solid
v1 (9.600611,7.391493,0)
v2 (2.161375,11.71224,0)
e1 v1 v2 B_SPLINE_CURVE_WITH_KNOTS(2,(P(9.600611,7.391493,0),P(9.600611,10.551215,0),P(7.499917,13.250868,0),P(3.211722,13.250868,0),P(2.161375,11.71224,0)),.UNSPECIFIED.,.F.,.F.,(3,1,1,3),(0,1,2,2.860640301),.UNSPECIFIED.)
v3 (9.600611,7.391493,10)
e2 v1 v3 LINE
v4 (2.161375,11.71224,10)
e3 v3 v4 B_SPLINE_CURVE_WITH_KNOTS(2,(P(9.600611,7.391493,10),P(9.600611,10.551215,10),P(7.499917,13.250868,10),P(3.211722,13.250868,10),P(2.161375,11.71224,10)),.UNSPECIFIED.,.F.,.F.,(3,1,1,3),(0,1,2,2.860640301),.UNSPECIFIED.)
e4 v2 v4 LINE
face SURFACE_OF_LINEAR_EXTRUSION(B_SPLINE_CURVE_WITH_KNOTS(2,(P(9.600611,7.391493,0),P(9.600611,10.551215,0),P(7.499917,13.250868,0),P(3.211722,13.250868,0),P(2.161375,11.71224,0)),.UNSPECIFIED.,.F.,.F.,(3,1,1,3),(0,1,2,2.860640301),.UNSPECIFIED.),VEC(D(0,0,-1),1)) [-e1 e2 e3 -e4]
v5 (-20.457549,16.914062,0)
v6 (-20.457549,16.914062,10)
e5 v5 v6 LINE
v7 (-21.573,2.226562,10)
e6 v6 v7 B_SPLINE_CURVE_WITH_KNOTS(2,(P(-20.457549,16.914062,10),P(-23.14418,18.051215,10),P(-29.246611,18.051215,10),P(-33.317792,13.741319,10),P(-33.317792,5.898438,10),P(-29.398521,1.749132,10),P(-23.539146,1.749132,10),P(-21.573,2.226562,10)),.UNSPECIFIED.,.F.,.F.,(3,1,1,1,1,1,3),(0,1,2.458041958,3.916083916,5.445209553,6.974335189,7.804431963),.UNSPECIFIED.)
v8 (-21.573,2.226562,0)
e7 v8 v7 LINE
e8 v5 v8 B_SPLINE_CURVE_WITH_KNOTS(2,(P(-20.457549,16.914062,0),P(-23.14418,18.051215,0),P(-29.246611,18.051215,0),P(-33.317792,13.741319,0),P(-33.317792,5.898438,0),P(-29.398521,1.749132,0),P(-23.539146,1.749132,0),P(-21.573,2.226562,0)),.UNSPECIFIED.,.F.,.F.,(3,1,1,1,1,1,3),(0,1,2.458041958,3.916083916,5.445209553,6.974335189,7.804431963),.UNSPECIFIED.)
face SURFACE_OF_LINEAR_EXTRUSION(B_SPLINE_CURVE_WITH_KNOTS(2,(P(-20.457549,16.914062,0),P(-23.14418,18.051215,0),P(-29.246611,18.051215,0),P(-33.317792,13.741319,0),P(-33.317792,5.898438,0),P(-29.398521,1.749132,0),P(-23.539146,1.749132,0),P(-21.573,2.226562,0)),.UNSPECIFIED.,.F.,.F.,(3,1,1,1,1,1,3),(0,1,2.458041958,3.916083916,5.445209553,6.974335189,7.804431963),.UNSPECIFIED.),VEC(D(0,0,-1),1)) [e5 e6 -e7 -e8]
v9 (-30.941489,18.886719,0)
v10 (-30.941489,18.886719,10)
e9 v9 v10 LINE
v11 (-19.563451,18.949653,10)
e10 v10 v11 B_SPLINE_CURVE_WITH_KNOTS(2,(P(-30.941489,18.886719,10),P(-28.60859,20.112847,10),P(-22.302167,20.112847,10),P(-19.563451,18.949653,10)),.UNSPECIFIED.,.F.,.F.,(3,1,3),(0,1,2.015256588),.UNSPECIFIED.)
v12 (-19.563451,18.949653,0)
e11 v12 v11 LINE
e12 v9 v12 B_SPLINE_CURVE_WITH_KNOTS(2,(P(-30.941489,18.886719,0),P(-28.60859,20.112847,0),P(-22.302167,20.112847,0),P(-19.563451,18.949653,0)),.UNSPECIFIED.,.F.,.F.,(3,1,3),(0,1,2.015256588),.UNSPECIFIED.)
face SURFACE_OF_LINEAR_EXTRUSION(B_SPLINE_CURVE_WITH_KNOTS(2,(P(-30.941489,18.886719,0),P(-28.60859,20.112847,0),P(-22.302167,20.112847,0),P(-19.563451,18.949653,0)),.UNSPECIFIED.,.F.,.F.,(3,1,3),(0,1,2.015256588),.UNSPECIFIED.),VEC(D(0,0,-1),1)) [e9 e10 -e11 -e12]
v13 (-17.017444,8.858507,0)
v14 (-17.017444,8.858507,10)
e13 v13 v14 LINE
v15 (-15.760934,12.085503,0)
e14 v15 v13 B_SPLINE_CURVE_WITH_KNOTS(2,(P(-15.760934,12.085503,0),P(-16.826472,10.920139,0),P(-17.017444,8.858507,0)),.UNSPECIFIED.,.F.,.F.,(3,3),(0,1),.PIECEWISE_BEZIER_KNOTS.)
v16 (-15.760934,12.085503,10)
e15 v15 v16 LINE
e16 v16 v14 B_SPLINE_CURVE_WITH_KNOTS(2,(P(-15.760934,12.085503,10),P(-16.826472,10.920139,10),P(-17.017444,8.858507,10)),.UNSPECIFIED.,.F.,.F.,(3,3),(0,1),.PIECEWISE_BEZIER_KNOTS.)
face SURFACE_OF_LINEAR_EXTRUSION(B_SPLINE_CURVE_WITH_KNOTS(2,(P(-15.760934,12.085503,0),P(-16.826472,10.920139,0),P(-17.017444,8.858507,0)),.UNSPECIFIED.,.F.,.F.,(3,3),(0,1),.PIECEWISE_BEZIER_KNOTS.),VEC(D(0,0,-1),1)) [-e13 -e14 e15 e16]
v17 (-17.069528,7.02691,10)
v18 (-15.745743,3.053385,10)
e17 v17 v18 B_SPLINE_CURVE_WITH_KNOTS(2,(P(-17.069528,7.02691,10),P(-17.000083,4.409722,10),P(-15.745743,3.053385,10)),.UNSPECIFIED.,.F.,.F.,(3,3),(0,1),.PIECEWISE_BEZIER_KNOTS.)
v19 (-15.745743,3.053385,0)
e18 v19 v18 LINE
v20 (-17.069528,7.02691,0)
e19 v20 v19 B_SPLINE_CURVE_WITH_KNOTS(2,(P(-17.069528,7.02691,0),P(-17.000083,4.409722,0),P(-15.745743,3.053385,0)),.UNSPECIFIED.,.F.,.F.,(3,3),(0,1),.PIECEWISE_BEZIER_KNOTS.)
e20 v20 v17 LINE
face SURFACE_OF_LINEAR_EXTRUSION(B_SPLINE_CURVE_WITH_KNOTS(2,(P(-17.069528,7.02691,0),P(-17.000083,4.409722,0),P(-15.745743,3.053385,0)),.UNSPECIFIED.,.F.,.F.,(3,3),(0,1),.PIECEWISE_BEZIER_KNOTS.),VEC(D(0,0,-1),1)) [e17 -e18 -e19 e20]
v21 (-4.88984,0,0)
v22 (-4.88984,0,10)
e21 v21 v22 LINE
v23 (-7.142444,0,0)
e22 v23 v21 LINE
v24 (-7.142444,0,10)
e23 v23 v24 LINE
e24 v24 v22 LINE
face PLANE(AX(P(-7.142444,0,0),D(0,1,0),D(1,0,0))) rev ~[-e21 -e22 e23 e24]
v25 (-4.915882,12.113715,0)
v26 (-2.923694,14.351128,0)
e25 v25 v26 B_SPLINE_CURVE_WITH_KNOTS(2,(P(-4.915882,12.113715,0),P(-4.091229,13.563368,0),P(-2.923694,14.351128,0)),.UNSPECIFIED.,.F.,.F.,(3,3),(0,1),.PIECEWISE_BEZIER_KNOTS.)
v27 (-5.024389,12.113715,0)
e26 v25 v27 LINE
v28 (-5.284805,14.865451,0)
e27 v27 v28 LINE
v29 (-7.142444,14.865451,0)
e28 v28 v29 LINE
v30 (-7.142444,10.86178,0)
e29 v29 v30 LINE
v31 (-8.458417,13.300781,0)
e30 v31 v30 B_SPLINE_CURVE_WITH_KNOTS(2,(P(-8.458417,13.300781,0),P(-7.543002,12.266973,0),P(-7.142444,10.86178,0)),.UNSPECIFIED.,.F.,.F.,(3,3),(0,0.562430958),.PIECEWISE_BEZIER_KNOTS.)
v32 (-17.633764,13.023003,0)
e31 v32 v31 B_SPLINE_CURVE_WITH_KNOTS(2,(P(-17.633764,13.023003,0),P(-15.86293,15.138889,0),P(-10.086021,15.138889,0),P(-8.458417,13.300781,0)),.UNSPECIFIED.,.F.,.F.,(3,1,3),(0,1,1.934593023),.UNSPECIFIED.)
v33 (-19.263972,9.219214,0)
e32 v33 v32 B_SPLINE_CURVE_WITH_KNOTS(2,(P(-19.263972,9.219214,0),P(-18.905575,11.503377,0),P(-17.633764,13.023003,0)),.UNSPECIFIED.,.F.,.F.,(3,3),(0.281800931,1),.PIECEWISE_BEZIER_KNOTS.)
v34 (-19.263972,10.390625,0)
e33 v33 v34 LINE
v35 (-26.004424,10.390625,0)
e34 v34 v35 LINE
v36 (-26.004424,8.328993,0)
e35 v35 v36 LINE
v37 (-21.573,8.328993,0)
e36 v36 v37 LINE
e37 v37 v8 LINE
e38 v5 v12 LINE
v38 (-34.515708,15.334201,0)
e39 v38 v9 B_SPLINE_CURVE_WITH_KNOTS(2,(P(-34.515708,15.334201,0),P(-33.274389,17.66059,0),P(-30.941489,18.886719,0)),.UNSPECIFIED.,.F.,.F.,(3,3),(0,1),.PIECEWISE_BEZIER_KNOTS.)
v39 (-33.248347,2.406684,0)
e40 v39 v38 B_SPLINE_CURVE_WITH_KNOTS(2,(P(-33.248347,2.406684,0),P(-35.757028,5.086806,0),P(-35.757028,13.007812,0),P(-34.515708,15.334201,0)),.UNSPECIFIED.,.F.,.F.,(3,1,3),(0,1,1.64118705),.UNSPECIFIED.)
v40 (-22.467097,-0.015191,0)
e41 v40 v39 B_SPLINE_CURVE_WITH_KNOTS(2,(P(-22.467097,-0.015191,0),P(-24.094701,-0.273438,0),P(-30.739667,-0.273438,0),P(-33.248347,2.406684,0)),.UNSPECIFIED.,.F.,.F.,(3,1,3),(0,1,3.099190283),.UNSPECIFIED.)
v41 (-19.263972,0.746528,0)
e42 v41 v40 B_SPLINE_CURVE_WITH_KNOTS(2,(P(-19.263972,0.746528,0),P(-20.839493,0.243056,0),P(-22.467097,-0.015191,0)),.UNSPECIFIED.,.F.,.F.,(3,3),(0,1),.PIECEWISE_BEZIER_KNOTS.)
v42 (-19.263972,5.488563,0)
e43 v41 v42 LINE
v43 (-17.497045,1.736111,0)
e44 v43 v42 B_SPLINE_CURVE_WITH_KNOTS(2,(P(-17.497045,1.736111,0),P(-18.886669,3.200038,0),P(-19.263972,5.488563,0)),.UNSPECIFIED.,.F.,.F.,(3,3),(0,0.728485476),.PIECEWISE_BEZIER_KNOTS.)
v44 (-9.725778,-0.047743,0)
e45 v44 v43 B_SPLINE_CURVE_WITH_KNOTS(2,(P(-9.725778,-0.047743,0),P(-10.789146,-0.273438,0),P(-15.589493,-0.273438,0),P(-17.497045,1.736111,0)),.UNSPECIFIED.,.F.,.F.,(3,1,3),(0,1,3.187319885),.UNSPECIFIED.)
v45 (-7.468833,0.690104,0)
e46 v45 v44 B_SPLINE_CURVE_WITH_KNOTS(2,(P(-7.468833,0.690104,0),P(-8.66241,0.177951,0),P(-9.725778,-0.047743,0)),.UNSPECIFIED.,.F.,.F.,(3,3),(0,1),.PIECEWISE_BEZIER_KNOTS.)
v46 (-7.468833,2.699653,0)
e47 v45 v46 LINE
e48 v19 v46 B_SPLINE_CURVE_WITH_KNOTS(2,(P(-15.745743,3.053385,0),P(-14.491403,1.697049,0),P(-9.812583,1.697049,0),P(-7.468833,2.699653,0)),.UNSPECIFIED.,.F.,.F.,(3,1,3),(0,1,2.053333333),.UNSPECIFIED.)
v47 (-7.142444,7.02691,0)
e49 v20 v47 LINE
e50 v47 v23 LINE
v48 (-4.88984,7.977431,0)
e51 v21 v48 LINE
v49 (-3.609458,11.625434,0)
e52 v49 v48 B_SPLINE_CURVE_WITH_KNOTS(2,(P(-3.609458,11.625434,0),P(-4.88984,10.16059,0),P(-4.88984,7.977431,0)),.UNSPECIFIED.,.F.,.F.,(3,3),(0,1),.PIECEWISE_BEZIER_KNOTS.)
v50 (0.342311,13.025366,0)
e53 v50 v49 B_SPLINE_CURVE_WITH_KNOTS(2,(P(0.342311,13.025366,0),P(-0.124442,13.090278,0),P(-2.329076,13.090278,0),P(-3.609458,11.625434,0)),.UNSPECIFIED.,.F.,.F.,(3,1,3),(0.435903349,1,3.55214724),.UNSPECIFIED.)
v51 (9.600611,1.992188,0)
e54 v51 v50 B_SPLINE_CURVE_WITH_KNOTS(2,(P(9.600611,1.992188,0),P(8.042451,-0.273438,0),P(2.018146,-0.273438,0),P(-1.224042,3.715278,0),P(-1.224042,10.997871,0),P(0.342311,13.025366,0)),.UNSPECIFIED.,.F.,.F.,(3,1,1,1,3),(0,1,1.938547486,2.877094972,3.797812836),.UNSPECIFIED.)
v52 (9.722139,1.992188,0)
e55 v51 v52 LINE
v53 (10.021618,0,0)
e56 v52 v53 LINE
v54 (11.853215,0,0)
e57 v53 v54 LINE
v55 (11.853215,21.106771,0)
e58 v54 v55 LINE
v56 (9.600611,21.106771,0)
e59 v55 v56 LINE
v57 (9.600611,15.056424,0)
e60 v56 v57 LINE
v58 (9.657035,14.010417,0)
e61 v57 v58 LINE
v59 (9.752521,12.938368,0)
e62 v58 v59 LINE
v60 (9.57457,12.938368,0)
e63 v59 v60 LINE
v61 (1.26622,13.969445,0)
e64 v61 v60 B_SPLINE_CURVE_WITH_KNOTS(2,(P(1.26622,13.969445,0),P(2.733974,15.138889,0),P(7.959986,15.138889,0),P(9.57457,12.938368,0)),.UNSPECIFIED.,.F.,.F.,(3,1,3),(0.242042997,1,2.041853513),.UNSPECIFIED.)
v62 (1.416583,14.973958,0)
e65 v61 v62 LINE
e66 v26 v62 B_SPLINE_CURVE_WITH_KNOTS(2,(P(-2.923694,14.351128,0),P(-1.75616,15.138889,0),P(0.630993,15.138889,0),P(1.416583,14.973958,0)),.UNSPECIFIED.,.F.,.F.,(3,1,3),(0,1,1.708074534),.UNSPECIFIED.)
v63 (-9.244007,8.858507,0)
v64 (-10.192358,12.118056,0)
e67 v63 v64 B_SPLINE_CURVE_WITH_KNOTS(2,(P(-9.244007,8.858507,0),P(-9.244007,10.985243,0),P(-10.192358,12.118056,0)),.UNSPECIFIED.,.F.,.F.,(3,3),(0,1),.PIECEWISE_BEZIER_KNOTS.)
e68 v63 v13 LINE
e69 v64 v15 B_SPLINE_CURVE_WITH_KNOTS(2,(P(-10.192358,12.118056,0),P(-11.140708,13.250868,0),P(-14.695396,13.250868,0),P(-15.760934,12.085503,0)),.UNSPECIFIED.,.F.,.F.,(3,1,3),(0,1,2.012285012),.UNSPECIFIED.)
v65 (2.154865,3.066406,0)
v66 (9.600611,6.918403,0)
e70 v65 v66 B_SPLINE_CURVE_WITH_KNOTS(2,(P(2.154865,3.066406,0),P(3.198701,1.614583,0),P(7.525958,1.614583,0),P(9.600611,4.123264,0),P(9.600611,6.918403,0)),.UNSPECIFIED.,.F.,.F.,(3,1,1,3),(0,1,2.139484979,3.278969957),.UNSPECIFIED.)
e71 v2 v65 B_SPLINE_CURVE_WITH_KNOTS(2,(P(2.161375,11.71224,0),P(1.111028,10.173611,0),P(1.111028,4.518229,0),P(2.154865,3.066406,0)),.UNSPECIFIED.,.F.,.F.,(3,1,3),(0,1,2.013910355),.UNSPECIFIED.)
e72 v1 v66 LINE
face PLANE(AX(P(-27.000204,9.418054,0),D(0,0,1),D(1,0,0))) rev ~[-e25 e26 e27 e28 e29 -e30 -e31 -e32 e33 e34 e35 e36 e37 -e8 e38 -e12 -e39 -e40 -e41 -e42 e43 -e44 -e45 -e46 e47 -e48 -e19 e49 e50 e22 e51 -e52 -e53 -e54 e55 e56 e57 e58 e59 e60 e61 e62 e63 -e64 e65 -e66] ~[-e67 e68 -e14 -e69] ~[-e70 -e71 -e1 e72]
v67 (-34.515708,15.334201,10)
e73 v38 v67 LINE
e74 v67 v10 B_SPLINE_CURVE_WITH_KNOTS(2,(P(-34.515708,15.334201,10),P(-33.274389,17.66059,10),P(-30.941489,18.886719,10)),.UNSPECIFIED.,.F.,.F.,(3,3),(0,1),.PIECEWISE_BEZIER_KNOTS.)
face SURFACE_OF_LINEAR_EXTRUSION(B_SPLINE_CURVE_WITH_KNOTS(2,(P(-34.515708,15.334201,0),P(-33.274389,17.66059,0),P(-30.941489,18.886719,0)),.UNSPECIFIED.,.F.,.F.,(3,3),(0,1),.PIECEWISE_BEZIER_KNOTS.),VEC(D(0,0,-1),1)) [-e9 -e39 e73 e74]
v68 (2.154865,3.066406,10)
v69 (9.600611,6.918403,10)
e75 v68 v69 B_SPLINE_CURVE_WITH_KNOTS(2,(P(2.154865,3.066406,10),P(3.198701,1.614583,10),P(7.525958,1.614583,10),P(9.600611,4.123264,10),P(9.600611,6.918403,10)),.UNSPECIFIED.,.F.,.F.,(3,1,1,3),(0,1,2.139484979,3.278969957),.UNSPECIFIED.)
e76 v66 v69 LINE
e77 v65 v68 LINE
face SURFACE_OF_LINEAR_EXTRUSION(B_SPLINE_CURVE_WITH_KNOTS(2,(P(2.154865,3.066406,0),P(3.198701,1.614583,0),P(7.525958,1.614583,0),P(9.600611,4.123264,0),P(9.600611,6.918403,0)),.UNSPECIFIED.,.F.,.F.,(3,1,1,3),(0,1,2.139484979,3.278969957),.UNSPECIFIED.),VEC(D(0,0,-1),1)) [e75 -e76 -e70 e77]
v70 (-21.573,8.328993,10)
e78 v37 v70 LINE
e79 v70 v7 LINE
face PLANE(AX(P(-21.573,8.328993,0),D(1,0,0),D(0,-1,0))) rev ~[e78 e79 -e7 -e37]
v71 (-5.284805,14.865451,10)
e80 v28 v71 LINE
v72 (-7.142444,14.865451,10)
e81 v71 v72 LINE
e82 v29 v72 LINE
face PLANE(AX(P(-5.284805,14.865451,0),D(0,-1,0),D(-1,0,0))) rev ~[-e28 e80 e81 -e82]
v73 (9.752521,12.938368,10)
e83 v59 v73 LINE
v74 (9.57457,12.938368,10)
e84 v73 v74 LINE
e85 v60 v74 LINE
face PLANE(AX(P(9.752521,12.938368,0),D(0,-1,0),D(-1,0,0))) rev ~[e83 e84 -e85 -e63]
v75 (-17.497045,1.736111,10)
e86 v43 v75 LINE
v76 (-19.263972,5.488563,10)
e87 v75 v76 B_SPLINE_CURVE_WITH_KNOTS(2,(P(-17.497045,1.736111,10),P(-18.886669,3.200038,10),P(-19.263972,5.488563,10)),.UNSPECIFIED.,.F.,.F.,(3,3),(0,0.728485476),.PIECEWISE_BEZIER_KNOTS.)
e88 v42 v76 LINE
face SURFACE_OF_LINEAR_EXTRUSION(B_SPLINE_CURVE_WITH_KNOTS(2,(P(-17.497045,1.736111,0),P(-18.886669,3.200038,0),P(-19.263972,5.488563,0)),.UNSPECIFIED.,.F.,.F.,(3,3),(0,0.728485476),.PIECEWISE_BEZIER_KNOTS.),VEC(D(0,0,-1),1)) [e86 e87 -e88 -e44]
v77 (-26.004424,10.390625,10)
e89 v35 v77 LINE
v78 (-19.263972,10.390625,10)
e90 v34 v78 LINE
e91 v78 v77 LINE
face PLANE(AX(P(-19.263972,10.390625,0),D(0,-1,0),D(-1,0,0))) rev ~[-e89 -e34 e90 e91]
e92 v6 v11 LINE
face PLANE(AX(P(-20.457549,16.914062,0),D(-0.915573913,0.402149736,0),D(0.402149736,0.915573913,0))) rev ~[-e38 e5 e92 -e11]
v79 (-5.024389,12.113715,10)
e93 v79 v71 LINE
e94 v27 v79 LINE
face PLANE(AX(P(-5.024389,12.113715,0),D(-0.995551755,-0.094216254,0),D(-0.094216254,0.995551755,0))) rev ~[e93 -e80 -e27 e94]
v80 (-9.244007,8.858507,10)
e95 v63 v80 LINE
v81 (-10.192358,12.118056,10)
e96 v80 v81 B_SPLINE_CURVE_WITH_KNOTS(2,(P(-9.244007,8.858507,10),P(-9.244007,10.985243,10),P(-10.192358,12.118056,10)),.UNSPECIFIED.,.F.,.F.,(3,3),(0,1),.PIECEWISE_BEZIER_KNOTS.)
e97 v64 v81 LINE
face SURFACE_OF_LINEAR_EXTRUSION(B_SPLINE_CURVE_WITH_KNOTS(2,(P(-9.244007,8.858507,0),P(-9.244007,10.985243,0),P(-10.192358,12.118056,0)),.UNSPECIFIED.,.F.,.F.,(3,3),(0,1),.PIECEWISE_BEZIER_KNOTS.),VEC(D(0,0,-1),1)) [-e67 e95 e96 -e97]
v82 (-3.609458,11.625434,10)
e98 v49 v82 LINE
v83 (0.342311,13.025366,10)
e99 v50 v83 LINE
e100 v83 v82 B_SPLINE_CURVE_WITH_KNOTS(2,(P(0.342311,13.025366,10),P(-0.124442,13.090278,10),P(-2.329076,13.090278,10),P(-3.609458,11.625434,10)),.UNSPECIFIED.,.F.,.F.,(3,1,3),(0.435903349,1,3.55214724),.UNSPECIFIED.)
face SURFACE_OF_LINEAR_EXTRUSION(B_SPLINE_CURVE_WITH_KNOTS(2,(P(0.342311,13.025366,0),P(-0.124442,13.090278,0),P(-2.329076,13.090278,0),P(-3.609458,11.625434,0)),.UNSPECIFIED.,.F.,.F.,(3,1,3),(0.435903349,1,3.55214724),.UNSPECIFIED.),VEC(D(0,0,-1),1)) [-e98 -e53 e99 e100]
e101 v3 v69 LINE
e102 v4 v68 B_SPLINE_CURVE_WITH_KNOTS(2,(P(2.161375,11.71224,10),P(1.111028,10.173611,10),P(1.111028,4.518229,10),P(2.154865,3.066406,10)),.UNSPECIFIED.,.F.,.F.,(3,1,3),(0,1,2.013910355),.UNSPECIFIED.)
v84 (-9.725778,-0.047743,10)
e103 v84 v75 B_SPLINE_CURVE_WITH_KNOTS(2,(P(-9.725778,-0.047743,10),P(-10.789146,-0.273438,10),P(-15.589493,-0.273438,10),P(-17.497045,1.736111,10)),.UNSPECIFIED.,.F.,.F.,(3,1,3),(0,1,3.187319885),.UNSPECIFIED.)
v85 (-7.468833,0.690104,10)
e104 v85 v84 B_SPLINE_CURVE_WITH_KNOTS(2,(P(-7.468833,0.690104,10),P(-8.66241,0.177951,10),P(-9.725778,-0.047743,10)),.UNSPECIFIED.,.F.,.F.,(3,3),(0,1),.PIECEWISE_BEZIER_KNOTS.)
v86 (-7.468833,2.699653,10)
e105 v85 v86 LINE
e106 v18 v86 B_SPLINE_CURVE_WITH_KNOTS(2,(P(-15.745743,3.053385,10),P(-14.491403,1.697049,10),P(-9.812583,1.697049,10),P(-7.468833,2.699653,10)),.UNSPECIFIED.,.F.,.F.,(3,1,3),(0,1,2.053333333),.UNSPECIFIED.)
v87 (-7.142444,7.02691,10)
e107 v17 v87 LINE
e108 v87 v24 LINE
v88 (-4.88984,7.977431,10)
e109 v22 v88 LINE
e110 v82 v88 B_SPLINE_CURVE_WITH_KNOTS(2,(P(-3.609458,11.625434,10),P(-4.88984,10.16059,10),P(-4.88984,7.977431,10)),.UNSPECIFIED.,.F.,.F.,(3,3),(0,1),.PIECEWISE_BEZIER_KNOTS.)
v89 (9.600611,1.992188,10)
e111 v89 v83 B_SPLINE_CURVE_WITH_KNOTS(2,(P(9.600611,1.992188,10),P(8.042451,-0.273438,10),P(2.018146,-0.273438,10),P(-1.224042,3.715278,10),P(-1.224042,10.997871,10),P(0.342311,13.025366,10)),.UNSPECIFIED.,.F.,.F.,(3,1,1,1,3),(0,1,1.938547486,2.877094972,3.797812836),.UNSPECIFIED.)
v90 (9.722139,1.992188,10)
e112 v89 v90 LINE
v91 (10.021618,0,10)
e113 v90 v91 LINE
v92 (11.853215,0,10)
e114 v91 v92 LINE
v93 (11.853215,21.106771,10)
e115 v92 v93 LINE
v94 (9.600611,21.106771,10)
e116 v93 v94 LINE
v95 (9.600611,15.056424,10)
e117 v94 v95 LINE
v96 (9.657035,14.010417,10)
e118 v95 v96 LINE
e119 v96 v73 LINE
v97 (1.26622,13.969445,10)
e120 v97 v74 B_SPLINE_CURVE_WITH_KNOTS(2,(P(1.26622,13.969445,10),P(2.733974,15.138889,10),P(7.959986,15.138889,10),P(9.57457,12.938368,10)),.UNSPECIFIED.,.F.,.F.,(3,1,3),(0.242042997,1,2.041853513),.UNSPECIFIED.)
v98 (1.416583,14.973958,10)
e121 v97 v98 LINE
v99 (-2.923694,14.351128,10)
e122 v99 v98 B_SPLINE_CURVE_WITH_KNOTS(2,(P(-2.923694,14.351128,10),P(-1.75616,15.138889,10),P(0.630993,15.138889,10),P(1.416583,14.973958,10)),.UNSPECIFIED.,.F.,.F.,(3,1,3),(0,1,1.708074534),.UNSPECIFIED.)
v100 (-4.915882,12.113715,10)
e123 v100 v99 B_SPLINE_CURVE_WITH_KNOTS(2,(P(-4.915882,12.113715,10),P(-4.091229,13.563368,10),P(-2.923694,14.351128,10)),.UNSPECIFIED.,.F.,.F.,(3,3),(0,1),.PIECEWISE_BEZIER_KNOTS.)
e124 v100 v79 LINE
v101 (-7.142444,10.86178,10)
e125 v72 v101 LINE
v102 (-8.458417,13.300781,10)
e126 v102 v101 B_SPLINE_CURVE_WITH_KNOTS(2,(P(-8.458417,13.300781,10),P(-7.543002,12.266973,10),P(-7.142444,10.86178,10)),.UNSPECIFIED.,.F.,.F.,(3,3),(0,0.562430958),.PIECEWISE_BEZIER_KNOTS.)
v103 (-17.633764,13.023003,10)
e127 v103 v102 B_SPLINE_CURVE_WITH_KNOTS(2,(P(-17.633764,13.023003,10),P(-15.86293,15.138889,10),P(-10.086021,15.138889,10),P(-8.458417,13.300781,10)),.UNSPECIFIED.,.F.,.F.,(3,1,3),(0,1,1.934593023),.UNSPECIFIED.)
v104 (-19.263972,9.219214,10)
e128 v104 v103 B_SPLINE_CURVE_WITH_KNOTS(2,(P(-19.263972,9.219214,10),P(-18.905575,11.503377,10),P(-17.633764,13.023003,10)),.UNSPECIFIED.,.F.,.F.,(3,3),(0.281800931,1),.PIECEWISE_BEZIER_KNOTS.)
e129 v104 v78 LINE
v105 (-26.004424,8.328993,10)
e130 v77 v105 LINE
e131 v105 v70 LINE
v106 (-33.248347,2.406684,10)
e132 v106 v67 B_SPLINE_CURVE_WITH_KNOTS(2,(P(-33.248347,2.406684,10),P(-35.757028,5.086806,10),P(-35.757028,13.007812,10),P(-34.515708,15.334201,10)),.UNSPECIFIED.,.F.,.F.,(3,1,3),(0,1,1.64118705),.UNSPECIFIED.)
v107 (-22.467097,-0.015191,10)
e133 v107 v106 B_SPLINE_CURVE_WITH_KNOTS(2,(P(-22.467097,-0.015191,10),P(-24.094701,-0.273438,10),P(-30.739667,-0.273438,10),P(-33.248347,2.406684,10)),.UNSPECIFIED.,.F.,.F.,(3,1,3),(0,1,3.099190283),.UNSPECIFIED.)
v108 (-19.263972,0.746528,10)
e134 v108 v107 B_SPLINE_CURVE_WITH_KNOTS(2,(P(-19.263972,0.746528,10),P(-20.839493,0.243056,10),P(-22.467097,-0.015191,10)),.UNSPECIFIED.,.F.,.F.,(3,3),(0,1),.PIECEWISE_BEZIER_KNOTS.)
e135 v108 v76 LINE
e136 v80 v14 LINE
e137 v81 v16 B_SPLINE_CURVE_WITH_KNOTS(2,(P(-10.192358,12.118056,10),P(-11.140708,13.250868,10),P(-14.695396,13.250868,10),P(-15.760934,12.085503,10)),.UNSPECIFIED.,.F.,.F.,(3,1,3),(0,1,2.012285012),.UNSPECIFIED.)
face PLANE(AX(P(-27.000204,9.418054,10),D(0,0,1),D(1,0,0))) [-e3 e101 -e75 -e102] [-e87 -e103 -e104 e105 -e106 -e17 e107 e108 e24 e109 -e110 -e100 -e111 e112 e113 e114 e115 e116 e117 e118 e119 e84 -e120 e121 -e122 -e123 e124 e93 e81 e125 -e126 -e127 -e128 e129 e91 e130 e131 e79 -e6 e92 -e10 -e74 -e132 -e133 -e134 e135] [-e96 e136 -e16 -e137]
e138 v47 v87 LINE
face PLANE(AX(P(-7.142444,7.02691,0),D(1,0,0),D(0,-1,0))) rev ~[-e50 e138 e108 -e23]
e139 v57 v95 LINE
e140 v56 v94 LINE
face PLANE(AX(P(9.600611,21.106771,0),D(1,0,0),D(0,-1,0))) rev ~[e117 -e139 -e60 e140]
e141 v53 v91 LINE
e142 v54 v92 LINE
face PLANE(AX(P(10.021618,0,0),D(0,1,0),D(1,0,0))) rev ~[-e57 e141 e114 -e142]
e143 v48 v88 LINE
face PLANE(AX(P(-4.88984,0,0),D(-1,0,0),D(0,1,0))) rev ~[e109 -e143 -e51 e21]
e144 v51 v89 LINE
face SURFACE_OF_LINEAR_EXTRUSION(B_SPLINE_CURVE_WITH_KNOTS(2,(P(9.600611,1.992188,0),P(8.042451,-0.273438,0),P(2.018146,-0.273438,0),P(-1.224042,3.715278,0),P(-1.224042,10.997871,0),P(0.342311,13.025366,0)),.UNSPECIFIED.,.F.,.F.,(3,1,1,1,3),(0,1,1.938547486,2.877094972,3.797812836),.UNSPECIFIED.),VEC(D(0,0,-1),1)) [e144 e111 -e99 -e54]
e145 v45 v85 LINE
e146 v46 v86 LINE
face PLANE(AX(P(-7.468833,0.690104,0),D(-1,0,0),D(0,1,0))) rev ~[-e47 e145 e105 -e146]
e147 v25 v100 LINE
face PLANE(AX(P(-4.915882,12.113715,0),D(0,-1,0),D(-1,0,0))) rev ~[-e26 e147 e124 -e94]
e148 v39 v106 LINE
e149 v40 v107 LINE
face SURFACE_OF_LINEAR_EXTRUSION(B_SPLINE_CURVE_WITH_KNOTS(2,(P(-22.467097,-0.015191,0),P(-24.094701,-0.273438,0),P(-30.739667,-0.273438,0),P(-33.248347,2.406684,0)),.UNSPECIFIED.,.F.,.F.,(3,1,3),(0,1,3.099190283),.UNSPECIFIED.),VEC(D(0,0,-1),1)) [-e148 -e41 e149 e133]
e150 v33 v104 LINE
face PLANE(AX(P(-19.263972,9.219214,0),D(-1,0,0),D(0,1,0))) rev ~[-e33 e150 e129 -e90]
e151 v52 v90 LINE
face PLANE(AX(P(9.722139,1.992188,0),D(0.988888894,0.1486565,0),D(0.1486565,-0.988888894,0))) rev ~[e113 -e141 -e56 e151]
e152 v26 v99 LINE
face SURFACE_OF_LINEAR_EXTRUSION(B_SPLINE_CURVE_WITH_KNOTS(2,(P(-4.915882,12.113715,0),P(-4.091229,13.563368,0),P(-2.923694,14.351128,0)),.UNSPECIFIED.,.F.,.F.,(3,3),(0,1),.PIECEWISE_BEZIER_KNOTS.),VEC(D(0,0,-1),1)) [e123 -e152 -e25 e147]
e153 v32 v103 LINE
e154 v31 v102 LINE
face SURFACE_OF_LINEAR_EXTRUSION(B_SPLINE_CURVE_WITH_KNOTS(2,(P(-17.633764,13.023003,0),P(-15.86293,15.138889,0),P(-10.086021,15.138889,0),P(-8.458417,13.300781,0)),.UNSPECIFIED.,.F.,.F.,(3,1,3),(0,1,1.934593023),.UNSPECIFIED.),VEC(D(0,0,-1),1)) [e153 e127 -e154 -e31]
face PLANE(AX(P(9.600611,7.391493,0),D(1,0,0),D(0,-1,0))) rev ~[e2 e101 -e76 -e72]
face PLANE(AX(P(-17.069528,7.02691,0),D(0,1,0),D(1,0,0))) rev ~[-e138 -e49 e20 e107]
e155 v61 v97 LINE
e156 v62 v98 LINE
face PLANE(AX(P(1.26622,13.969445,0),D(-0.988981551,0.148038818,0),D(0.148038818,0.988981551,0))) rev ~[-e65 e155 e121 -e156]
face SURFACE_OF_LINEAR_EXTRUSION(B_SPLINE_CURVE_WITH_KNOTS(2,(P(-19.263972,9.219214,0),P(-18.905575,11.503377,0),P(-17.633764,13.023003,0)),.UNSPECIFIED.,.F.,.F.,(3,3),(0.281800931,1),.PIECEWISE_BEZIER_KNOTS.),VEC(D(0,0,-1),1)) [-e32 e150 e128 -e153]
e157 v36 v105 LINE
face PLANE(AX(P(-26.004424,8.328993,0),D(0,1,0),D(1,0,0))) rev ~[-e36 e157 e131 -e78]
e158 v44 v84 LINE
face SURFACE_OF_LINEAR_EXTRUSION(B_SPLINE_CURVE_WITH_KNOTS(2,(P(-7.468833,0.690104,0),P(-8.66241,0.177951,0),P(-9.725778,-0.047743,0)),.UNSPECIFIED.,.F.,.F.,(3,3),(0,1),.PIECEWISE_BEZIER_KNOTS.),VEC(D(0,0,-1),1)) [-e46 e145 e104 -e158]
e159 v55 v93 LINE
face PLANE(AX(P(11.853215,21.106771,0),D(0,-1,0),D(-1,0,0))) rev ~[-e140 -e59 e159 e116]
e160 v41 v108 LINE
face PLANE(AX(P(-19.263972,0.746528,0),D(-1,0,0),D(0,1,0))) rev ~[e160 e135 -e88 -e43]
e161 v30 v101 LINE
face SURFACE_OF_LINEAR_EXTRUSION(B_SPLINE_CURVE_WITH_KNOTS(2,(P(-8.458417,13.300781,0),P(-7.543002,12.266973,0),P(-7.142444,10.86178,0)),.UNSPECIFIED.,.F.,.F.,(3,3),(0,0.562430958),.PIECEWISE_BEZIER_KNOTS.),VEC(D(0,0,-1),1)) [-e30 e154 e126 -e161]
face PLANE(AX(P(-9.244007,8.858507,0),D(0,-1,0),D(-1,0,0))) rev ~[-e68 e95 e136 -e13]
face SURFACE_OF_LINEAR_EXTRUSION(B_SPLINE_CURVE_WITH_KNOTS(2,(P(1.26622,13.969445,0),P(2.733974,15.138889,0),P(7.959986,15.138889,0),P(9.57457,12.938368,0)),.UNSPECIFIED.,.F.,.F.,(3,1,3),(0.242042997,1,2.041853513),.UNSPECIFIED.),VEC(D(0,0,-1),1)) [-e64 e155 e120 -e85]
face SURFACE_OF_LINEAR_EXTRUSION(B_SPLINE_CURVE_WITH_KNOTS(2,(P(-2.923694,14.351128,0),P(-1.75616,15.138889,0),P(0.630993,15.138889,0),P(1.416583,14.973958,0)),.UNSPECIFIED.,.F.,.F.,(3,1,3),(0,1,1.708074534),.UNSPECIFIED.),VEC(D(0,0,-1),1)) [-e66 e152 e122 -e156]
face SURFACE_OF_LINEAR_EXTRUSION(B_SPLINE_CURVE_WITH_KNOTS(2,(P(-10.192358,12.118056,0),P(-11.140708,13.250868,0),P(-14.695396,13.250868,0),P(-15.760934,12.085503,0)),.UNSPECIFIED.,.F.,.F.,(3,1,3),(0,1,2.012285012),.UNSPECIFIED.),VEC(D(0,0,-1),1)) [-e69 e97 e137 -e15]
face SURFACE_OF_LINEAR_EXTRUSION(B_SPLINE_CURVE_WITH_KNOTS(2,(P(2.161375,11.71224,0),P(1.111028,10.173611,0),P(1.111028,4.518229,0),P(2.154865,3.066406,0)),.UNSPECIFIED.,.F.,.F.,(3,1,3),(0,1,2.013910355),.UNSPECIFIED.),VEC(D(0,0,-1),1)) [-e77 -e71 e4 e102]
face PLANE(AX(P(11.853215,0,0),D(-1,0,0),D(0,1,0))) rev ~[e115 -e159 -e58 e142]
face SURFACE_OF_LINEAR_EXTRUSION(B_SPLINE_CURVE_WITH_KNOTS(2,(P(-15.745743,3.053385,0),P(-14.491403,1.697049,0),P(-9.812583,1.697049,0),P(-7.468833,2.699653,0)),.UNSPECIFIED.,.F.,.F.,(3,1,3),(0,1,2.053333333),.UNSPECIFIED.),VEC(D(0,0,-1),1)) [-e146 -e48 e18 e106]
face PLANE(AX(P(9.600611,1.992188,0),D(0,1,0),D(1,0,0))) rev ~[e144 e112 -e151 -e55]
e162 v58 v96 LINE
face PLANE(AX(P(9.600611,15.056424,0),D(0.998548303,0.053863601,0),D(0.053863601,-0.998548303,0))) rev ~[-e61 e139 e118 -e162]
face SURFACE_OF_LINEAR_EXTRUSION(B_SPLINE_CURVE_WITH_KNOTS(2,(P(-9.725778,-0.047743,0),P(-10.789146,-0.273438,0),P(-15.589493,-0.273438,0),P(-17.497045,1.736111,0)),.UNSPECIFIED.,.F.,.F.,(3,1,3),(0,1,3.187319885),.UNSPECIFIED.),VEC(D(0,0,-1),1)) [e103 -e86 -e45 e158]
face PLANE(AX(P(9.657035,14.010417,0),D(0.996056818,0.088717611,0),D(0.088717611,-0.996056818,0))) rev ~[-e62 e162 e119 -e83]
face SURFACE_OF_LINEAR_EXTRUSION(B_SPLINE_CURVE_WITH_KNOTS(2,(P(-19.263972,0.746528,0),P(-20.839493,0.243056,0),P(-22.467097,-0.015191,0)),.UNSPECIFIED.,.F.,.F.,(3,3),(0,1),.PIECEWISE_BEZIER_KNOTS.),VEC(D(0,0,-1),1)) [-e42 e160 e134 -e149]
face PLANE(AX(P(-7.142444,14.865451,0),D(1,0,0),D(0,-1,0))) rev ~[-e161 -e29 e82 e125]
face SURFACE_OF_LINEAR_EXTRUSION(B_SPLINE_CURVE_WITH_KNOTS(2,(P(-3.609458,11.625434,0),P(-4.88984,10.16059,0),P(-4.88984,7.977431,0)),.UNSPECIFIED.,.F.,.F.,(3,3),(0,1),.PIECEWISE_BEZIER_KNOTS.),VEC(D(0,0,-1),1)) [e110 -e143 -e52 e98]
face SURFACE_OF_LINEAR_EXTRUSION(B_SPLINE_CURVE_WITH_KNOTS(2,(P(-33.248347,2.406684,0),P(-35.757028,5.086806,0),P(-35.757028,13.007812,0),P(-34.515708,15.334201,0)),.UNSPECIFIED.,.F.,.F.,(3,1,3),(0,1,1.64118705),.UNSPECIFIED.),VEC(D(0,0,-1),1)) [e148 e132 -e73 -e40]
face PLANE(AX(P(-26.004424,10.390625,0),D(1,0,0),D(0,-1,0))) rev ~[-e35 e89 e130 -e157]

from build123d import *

# Parameters (mm, degrees)
F1_DEPTH = 10


with BuildPart() as f1:
    # F0 (on Top) → F1 (new body)
    with BuildSketch(Plane.XY):
        with BuildLine():
            Line((-19.2639721345, 10.390625), (-26.0044235234, 10.390625))
            Line((-26.0044235234, 10.390625), (-26.0044235234, 8.3289930556))
            Line((-26.0044235234, 8.3289930556), (-21.5729999123, 8.3289930556))
            Line((-21.5729999123, 8.3289930556), (-21.5729999123, 2.2265625))
            add(Edge.make_bspline(
                [(-25.6007776901, 1.7491319444), (-23.5391457456, 1.7491319444), (-21.5729999123, 2.2265625)],
                knots=[0, 0, 0, 1, 1, 1], degree=2))
            add(Edge.make_bspline(
                [(-31.3581561623, 3.8237847222), (-29.3985207456, 1.7491319444), (-25.6007776901, 1.7491319444)],
                knots=[0, 0, 0, 1, 1, 1], degree=2))
            add(Edge.make_bspline(
                [(-33.317791579, 9.9131944444), (-33.317791579, 5.8984375), (-31.3581561623, 3.8237847222)],
                knots=[0, 0, 0, 1, 1, 1], degree=2))
            add(Edge.make_bspline(
                [(-31.2822013012, 15.8962673611), (-33.317791579, 13.7413194444), (-33.317791579, 9.9131944444)],
                knots=[0, 0, 0, 1, 1, 1], degree=2))
            add(Edge.make_bspline(
                [(-25.6268193567, 18.0512152778), (-29.2466110234, 18.0512152778), (-31.2822013012, 15.8962673611)],
                knots=[0, 0, 0, 1, 1, 1], degree=2))
            add(Edge.make_bspline(
                [(-20.4575485234, 16.9140625), (-23.1441804679, 18.0512152778), (-25.6268193567, 18.0512152778)],
                knots=[0, 0, 0, 1, 1, 1], degree=2))
            Line((-20.4575485234, 16.9140625), (-19.5634513012, 18.9496527778))
            add(Edge.make_bspline(
                [(-25.4792499123, 20.1128472222), (-22.302166579, 20.1128472222), (-19.5634513012, 18.9496527778)],
                knots=[0, 0, 0, 1, 1, 1], degree=2))
            add(Edge.make_bspline(
                [(-30.9414894956, 18.88671875), (-28.6085901901, 20.1128472222), (-25.4792499123, 20.1128472222)],
                knots=[0, 0, 0, 1, 1, 1], degree=2))
            add(Edge.make_bspline(
                [(-34.5157082456, 15.3342013889), (-33.2743888012, 17.6605902778), (-30.9414894956, 18.88671875)],
                knots=[0, 0, 0, 1, 1, 1], degree=2))
            add(Edge.make_bspline(
                [(-35.7570276901, 9.9131944444), (-35.7570276901, 13.0078125), (-34.5157082456, 15.3342013889)],
                knots=[0, 0, 0, 1, 1, 1], degree=2))
            add(Edge.make_bspline(
                [(-33.2483471345, 2.4066840278), (-35.7570276901, 5.0868055556), (-35.7570276901, 9.9131944444)],
                knots=[0, 0, 0, 1, 1, 1], degree=2))
            add(Edge.make_bspline(
                [(-26.2387985234, -0.2734375), (-30.739666579, -0.2734375), (-33.2483471345, 2.4066840278)],
                knots=[0, 0, 0, 1, 1, 1], degree=2))
            add(Edge.make_bspline(
                [(-22.4670971345, -0.0151909722), (-24.0947013012, -0.2734375), (-26.2387985234, -0.2734375)],
                knots=[0, 0, 0, 1, 1, 1], degree=2))
            add(Edge.make_bspline(
                [(-19.2639721345, 0.7465277778), (-20.8394929679, 0.2430555556), (-22.4670971345, -0.0151909722)],
                knots=[0, 0, 0, 1, 1, 1], degree=2))
            Line((-19.2639721345, 0.7465277778), (-19.2639721345, 5.4885631994))
            add(Edge.make_bspline(
                [(-19.2639721345, 5.4885631994), (-19.4045971345, 6.3415215978), (-19.4045971345, 7.3090277778)],
                knots=[0.7284854764, 0.7284854764, 0.7284854764, 1, 1, 1], degree=2))
            add(Edge.make_bspline(
                [(-19.4045971345, 7.3090277778), (-19.4045971345, 8.3229729678), (-19.2639721345, 9.2192136542)],
                knots=[0, 0, 0, 0.281800931, 0.281800931, 0.281800931], degree=2))
            Line((-19.2639721345, 9.2192136542), (-19.2639721345, 10.390625))
        make_face()
        with BuildLine():
            add(Edge.make_bspline(
                [(-19.2639721345, 9.2192136542), (-18.9055746526, 11.5033765358), (-17.6337638012, 13.0230034722)],
                knots=[0.281800931, 0.281800931, 0.281800931, 1, 1, 1], degree=2))
            Line((-19.2639721345, 9.2192136542), (-19.2639721345, 5.4885631994))
            add(Edge.make_bspline(
                [(-17.4970450512, 1.7361111111), (-18.8866690394, 3.2000380885), (-19.2639721345, 5.4885631994)],
                knots=[0, 0, 0, 0.7284854764, 0.7284854764, 0.7284854764], degree=2))
            add(Edge.make_bspline(
                [(-12.2952221345, -0.2734375), (-15.5894929679, -0.2734375), (-17.4970450512, 1.7361111111)],
                knots=[0, 0, 0, 1, 1, 1], degree=2))
            add(Edge.make_bspline(
                [(-9.7257776901, -0.0477430556), (-10.7891457456, -0.2734375), (-12.2952221345, -0.2734375)],
                knots=[0, 0, 0, 1, 1, 1], degree=2))
            add(Edge.make_bspline(
                [(-7.4688332456, 0.6901041667), (-8.6624096345, 0.1779513889), (-9.7257776901, -0.0477430556)],
                knots=[0, 0, 0, 1, 1, 1], degree=2))
            Line((-7.4688332456, 0.6901041667), (-7.4688332456, 2.6996527778))
            add(Edge.make_bspline(
                [(-12.2127568567, 1.6970486111), (-9.8125832456, 1.6970486111), (-7.4688332456, 2.6996527778)],
                knots=[0, 0, 0, 1, 1, 1], degree=2))
            add(Edge.make_bspline(
                [(-15.7457429679, 3.0533854167), (-14.4914026901, 1.6970486111), (-12.2127568567, 1.6970486111)],
                knots=[0, 0, 0, 1, 1, 1], degree=2))
            add(Edge.make_bspline(
                [(-17.0695276901, 7.0269097222), (-17.0000832456, 4.4097222222), (-15.7457429679, 3.0533854167)],
                knots=[0, 0, 0, 1, 1, 1], degree=2))
            Line((-17.0695276901, 7.0269097222), (-7.1424443567, 7.0269097222))
            Line((-7.1424443567, 7.0269097222), (-7.1424443567, 10.8617799358))
            add(Edge.make_bspline(
                [(-8.458416579, 13.30078125), (-7.5430016085, 12.2669726101), (-7.1424443567, 10.8617799358)],
                knots=[0, 0, 0, 0.5624309578, 0.5624309578, 0.5624309578], degree=2))
            add(Edge.make_bspline(
                [(-12.8768193567, 15.1388888889), (-10.0860207456, 15.1388888889), (-8.458416579, 13.30078125)],
                knots=[0, 0, 0, 1, 1, 1], degree=2))
            add(Edge.make_bspline(
                [(-17.6337638012, 13.0230034722), (-15.8629304679, 15.1388888889), (-12.8768193567, 15.1388888889)],
                knots=[0, 0, 0, 1, 1, 1], degree=2))
        make_face()
        with BuildLine():
            add(Edge.make_bspline(
                [(-12.9072013012, 13.2508680556), (-14.6953957456, 13.2508680556), (-15.7609339401, 12.0855034722)],
                knots=[0, 0, 0, 1, 1, 1], degree=2))
            add(Edge.make_bspline(
                [(-10.1923575512, 12.1180555556), (-11.1407082456, 13.2508680556), (-12.9072013012, 13.2508680556)],
                knots=[0, 0, 0, 1, 1, 1], degree=2))
            add(Edge.make_bspline(
                [(-9.2440068567, 8.8585069444), (-9.2440068567, 10.9852430556), (-10.1923575512, 12.1180555556)],
                knots=[0, 0, 0, 1, 1, 1], degree=2))
            Line((-9.2440068567, 8.8585069444), (-17.0174443567, 8.8585069444))
            add(Edge.make_bspline(
                [(-15.7609339401, 12.0855034722), (-16.8264721345, 10.9201388889), (-17.0174443567, 8.8585069444)],
                knots=[0, 0, 0, 1, 1, 1], degree=2))
        make_face(mode=Mode.SUBTRACT)
        with BuildLine():
            Line((-19.2639721345, 5.4885631994), (-19.2639721345, 9.2192136542))
            add(Edge.make_bspline(
                [(-19.4045971345, 7.3090277778), (-19.4045971345, 8.3229729678), (-19.2639721345, 9.2192136542)],
                knots=[0, 0, 0, 0.281800931, 0.281800931, 0.281800931], degree=2))
            add(Edge.make_bspline(
                [(-19.2639721345, 5.4885631994), (-19.4045971345, 6.3415215978), (-19.4045971345, 7.3090277778)],
                knots=[0.7284854764, 0.7284854764, 0.7284854764, 1, 1, 1], degree=2))
        make_face()
        with BuildLine():
            Line((-7.1424443567, 14.8654513889), (-7.1424443567, 10.8617799358))
            add(Edge.make_bspline(
                [(-7.1424443567, 10.8617799358), (-6.8308124123, 9.7685456392), (-6.8308124123, 8.4505208333)],
                knots=[0.5624309578, 0.5624309578, 0.5624309578, 1, 1, 1], degree=2))
            Line((-6.8308124123, 8.4505208333), (-6.8308124123, 7.0269097222))
            Line((-6.8308124123, 7.0269097222), (-7.1424443567, 7.0269097222))
            Line((-7.1424443567, 7.0269097222), (-7.1424443567, 0))
            Line((-7.1424443567, 0), (-4.8898401901, 0))
            Line((-4.8898401901, 0), (-4.8898401901, 7.9774305556))
            add(Edge.make_bspline(
                [(-3.6094582456, 11.6254340278), (-4.8898401901, 10.1605902778), (-4.8898401901, 7.9774305556)],
                knots=[0, 0, 0, 1, 1, 1], degree=2))
            add(Edge.make_bspline(
                [(-0.5235207456, 13.0902777778), (-2.3290763012, 13.0902777778), (-3.6094582456, 11.6254340278)],
                knots=[0, 0, 0, 1, 1, 1], degree=2))
            add(Edge.make_bspline(
                [(0.3423106553, 13.0253661611), (-0.1244419518, 13.0902777778), (-0.5235207456, 13.0902777778)],
                knots=[0.435903349, 0.435903349, 0.435903349, 1, 1, 1], degree=2))
            add(Edge.make_bspline(
                [(0.3423106553, 13.0253661611), (0.3726429305, 13.0646284266), (0.4035625877, 13.1032986111)],
                knots=[0.9810029626, 0.9810029626, 0.9810029626, 1, 1, 1], degree=2))
            add(Edge.make_bspline(
                [(0.4035625877, 13.1032986111), (0.7975127784, 13.595998983), (1.266219631, 13.9694446802)],
                knots=[0, 0, 0, 0.2420429972, 0.2420429972, 0.2420429972], degree=2))
            Line((1.266219631, 13.9694446802), (1.416583421, 14.9739583333))
            add(Edge.make_bspline(
                [(-0.3585901901, 15.1388888889), (0.6309931433, 15.1388888889), (1.416583421, 14.9739583333)],
                knots=[0, 0, 0, 1, 1, 1], degree=2))
            add(Edge.make_bspline(
                [(-2.9236943567, 14.3511284722), (-1.7561596345, 15.1388888889), (-0.3585901901, 15.1388888889)],
                knots=[0, 0, 0, 1, 1, 1], degree=2))
            add(Edge.make_bspline(
                [(-4.9158818567, 12.1137152778), (-4.091229079, 13.5633680556), (-2.9236943567, 14.3511284722)],
                knots=[0, 0, 0, 1, 1, 1], degree=2))
            Line((-4.9158818567, 12.1137152778), (-5.0243888012, 12.1137152778))
            Line((-5.0243888012, 12.1137152778), (-5.2848054679, 14.8654513889))
            Line((-5.2848054679, 14.8654513889), (-7.1424443567, 14.8654513889))
        make_face()
        with BuildLine():
            add(Edge.make_bspline(
                [(-7.1424443567, 10.8617799358), (-6.8308124123, 9.7685456392), (-6.8308124123, 8.4505208333)],
                knots=[0.5624309578, 0.5624309578, 0.5624309578, 1, 1, 1], degree=2))
            Line((-7.1424443567, 10.8617799358), (-7.1424443567, 7.0269097222))
            Line((-7.1424443567, 7.0269097222), (-6.8308124123, 7.0269097222))
            Line((-6.8308124123, 7.0269097222), (-6.8308124123, 8.4505208333))
        make_face()
        with BuildLine():
            add(Edge.make_bspline(
                [(0.3423106553, 13.0253661611), (0.3726429305, 13.0646284266), (0.4035625877, 13.1032986111)],
                knots=[0.9810029626, 0.9810029626, 0.9810029626, 1, 1, 1], degree=2))
            add(Edge.make_bspline(
                [(1.104083421, 12.8862847222), (0.7029917978, 12.9752059783), (0.3423106553, 13.0253661611)],
                knots=[0, 0, 0, 0.435903349, 0.435903349, 0.435903349], degree=2))
            Line((1.104083421, 12.8862847222), (1.266219631, 13.9694446802))
            add(Edge.make_bspline(
                [(0.4035625877, 13.1032986111), (0.7975127784, 13.595998983), (1.266219631, 13.9694446802)],
                knots=[0, 0, 0, 0.2420429972, 0.2420429972, 0.2420429972], degree=2))
        make_face()
        with BuildLine():
            add(Edge.make_bspline(
                [(1.104083421, 12.8862847222), (0.7029917978, 12.9752059783), (0.3423106553, 13.0253661611)],
                knots=[0, 0, 0, 0.435903349, 0.435903349, 0.435903349], degree=2))
            add(Edge.make_bspline(
                [(-1.224041579, 7.3914930556), (-1.224041579, 10.9978711344), (0.3423106553, 13.0253661611)],
                knots=[0, 0, 0, 0.9810029626, 0.9810029626, 0.9810029626], degree=2))
            add(Edge.make_bspline(
                [(0.397052171, 1.7209201389), (-1.224041579, 3.7152777778), (-1.224041579, 7.3914930556)],
                knots=[0, 0, 0, 1, 1, 1], degree=2))
            add(Edge.make_bspline(
                [(4.9348125877, -0.2734375), (2.018145921, -0.2734375), (0.397052171, 1.7209201389)],
                knots=[0, 0, 0, 1, 1, 1], degree=2))
            add(Edge.make_bspline(
                [(9.6006111988, 1.9921875), (8.0424514766, -0.2734375), (4.9348125877, -0.2734375)],
                knots=[0, 0, 0, 1, 1, 1], degree=2))
            Line((9.6006111988, 1.9921875), (9.7221389766, 1.9921875))
            Line((9.7221389766, 1.9921875), (10.0216181433, 0))
            Line((10.0216181433, 0), (11.8532153655, 0))
            Line((11.8532153655, 0), (11.8532153655, 21.1067708333))
            Line((11.8532153655, 21.1067708333), (9.6006111988, 21.1067708333))
            Line((9.6006111988, 21.1067708333), (9.6006111988, 15.0564236111))
            Line((9.6006111988, 15.0564236111), (9.6570348099, 14.0104166667))
            Line((9.6570348099, 14.0104166667), (9.752520921, 12.9383680556))
            Line((9.752520921, 12.9383680556), (9.5745695321, 12.9383680556))
            add(Edge.make_bspline(
                [(4.9348125877, 15.1388888889), (7.9599861988, 15.1388888889), (9.5745695321, 12.9383680556)],
                knots=[0, 0, 0, 1, 1, 1], degree=2))
            add(Edge.make_bspline(
                [(1.266219631, 13.9694446802), (2.7339738946, 15.1388888889), (4.9348125877, 15.1388888889)],
                knots=[0.2420429972, 0.2420429972, 0.2420429972, 1, 1, 1], degree=2))
            Line((1.266219631, 13.9694446802), (1.104083421, 12.8862847222))
        make_face()
        with BuildLine():
            add(Edge.make_bspline(
                [(5.221270921, 1.6145833333), (7.525958421, 1.6145833333), (8.5632848099, 2.8689236111)],
                knots=[0, 0, 0, 1, 1, 1], degree=2))
            add(Edge.make_bspline(
                [(2.154864671, 3.06640625), (3.1987014766, 1.6145833333), (5.221270921, 1.6145833333)],
                knots=[0, 0, 0, 1, 1, 1], degree=2))
            add(Edge.make_bspline(
                [(1.1110278655, 7.3654513889), (1.1110278655, 4.5182291667), (2.154864671, 3.06640625)],
                knots=[0, 0, 0, 1, 1, 1], degree=2))
            add(Edge.make_bspline(
                [(2.1613750877, 11.7122395833), (1.1110278655, 10.1736111111), (1.1110278655, 7.3654513889)],
                knots=[0, 0, 0, 1, 1, 1], degree=2))
            add(Edge.make_bspline(
                [(5.1952292544, 13.2508680556), (3.2117223099, 13.2508680556), (2.1613750877, 11.7122395833)],
                knots=[0, 0, 0, 1, 1, 1], degree=2))
            add(Edge.make_bspline(
                [(8.5502639766, 11.9010416667), (7.4999167544, 13.2508680556), (5.1952292544, 13.2508680556)],
                knots=[0, 0, 0, 1, 1, 1], degree=2))
            add(Edge.make_bspline(
                [(9.6006111988, 7.3914930556), (9.6006111988, 10.5512152778), (8.5502639766, 11.9010416667)],
                knots=[0, 0, 0, 1, 1, 1], degree=2))
            Line((9.6006111988, 7.3914930556), (9.6006111988, 6.9184027778))
            add(Edge.make_bspline(
                [(8.5632848099, 2.8689236111), (9.6006111988, 4.1232638889), (9.6006111988, 6.9184027778)],
                knots=[0, 0, 0, 1, 1, 1], degree=2))
        make_face(mode=Mode.SUBTRACT)
    extrude(amount=F1_DEPTH)


solid = f1.part
